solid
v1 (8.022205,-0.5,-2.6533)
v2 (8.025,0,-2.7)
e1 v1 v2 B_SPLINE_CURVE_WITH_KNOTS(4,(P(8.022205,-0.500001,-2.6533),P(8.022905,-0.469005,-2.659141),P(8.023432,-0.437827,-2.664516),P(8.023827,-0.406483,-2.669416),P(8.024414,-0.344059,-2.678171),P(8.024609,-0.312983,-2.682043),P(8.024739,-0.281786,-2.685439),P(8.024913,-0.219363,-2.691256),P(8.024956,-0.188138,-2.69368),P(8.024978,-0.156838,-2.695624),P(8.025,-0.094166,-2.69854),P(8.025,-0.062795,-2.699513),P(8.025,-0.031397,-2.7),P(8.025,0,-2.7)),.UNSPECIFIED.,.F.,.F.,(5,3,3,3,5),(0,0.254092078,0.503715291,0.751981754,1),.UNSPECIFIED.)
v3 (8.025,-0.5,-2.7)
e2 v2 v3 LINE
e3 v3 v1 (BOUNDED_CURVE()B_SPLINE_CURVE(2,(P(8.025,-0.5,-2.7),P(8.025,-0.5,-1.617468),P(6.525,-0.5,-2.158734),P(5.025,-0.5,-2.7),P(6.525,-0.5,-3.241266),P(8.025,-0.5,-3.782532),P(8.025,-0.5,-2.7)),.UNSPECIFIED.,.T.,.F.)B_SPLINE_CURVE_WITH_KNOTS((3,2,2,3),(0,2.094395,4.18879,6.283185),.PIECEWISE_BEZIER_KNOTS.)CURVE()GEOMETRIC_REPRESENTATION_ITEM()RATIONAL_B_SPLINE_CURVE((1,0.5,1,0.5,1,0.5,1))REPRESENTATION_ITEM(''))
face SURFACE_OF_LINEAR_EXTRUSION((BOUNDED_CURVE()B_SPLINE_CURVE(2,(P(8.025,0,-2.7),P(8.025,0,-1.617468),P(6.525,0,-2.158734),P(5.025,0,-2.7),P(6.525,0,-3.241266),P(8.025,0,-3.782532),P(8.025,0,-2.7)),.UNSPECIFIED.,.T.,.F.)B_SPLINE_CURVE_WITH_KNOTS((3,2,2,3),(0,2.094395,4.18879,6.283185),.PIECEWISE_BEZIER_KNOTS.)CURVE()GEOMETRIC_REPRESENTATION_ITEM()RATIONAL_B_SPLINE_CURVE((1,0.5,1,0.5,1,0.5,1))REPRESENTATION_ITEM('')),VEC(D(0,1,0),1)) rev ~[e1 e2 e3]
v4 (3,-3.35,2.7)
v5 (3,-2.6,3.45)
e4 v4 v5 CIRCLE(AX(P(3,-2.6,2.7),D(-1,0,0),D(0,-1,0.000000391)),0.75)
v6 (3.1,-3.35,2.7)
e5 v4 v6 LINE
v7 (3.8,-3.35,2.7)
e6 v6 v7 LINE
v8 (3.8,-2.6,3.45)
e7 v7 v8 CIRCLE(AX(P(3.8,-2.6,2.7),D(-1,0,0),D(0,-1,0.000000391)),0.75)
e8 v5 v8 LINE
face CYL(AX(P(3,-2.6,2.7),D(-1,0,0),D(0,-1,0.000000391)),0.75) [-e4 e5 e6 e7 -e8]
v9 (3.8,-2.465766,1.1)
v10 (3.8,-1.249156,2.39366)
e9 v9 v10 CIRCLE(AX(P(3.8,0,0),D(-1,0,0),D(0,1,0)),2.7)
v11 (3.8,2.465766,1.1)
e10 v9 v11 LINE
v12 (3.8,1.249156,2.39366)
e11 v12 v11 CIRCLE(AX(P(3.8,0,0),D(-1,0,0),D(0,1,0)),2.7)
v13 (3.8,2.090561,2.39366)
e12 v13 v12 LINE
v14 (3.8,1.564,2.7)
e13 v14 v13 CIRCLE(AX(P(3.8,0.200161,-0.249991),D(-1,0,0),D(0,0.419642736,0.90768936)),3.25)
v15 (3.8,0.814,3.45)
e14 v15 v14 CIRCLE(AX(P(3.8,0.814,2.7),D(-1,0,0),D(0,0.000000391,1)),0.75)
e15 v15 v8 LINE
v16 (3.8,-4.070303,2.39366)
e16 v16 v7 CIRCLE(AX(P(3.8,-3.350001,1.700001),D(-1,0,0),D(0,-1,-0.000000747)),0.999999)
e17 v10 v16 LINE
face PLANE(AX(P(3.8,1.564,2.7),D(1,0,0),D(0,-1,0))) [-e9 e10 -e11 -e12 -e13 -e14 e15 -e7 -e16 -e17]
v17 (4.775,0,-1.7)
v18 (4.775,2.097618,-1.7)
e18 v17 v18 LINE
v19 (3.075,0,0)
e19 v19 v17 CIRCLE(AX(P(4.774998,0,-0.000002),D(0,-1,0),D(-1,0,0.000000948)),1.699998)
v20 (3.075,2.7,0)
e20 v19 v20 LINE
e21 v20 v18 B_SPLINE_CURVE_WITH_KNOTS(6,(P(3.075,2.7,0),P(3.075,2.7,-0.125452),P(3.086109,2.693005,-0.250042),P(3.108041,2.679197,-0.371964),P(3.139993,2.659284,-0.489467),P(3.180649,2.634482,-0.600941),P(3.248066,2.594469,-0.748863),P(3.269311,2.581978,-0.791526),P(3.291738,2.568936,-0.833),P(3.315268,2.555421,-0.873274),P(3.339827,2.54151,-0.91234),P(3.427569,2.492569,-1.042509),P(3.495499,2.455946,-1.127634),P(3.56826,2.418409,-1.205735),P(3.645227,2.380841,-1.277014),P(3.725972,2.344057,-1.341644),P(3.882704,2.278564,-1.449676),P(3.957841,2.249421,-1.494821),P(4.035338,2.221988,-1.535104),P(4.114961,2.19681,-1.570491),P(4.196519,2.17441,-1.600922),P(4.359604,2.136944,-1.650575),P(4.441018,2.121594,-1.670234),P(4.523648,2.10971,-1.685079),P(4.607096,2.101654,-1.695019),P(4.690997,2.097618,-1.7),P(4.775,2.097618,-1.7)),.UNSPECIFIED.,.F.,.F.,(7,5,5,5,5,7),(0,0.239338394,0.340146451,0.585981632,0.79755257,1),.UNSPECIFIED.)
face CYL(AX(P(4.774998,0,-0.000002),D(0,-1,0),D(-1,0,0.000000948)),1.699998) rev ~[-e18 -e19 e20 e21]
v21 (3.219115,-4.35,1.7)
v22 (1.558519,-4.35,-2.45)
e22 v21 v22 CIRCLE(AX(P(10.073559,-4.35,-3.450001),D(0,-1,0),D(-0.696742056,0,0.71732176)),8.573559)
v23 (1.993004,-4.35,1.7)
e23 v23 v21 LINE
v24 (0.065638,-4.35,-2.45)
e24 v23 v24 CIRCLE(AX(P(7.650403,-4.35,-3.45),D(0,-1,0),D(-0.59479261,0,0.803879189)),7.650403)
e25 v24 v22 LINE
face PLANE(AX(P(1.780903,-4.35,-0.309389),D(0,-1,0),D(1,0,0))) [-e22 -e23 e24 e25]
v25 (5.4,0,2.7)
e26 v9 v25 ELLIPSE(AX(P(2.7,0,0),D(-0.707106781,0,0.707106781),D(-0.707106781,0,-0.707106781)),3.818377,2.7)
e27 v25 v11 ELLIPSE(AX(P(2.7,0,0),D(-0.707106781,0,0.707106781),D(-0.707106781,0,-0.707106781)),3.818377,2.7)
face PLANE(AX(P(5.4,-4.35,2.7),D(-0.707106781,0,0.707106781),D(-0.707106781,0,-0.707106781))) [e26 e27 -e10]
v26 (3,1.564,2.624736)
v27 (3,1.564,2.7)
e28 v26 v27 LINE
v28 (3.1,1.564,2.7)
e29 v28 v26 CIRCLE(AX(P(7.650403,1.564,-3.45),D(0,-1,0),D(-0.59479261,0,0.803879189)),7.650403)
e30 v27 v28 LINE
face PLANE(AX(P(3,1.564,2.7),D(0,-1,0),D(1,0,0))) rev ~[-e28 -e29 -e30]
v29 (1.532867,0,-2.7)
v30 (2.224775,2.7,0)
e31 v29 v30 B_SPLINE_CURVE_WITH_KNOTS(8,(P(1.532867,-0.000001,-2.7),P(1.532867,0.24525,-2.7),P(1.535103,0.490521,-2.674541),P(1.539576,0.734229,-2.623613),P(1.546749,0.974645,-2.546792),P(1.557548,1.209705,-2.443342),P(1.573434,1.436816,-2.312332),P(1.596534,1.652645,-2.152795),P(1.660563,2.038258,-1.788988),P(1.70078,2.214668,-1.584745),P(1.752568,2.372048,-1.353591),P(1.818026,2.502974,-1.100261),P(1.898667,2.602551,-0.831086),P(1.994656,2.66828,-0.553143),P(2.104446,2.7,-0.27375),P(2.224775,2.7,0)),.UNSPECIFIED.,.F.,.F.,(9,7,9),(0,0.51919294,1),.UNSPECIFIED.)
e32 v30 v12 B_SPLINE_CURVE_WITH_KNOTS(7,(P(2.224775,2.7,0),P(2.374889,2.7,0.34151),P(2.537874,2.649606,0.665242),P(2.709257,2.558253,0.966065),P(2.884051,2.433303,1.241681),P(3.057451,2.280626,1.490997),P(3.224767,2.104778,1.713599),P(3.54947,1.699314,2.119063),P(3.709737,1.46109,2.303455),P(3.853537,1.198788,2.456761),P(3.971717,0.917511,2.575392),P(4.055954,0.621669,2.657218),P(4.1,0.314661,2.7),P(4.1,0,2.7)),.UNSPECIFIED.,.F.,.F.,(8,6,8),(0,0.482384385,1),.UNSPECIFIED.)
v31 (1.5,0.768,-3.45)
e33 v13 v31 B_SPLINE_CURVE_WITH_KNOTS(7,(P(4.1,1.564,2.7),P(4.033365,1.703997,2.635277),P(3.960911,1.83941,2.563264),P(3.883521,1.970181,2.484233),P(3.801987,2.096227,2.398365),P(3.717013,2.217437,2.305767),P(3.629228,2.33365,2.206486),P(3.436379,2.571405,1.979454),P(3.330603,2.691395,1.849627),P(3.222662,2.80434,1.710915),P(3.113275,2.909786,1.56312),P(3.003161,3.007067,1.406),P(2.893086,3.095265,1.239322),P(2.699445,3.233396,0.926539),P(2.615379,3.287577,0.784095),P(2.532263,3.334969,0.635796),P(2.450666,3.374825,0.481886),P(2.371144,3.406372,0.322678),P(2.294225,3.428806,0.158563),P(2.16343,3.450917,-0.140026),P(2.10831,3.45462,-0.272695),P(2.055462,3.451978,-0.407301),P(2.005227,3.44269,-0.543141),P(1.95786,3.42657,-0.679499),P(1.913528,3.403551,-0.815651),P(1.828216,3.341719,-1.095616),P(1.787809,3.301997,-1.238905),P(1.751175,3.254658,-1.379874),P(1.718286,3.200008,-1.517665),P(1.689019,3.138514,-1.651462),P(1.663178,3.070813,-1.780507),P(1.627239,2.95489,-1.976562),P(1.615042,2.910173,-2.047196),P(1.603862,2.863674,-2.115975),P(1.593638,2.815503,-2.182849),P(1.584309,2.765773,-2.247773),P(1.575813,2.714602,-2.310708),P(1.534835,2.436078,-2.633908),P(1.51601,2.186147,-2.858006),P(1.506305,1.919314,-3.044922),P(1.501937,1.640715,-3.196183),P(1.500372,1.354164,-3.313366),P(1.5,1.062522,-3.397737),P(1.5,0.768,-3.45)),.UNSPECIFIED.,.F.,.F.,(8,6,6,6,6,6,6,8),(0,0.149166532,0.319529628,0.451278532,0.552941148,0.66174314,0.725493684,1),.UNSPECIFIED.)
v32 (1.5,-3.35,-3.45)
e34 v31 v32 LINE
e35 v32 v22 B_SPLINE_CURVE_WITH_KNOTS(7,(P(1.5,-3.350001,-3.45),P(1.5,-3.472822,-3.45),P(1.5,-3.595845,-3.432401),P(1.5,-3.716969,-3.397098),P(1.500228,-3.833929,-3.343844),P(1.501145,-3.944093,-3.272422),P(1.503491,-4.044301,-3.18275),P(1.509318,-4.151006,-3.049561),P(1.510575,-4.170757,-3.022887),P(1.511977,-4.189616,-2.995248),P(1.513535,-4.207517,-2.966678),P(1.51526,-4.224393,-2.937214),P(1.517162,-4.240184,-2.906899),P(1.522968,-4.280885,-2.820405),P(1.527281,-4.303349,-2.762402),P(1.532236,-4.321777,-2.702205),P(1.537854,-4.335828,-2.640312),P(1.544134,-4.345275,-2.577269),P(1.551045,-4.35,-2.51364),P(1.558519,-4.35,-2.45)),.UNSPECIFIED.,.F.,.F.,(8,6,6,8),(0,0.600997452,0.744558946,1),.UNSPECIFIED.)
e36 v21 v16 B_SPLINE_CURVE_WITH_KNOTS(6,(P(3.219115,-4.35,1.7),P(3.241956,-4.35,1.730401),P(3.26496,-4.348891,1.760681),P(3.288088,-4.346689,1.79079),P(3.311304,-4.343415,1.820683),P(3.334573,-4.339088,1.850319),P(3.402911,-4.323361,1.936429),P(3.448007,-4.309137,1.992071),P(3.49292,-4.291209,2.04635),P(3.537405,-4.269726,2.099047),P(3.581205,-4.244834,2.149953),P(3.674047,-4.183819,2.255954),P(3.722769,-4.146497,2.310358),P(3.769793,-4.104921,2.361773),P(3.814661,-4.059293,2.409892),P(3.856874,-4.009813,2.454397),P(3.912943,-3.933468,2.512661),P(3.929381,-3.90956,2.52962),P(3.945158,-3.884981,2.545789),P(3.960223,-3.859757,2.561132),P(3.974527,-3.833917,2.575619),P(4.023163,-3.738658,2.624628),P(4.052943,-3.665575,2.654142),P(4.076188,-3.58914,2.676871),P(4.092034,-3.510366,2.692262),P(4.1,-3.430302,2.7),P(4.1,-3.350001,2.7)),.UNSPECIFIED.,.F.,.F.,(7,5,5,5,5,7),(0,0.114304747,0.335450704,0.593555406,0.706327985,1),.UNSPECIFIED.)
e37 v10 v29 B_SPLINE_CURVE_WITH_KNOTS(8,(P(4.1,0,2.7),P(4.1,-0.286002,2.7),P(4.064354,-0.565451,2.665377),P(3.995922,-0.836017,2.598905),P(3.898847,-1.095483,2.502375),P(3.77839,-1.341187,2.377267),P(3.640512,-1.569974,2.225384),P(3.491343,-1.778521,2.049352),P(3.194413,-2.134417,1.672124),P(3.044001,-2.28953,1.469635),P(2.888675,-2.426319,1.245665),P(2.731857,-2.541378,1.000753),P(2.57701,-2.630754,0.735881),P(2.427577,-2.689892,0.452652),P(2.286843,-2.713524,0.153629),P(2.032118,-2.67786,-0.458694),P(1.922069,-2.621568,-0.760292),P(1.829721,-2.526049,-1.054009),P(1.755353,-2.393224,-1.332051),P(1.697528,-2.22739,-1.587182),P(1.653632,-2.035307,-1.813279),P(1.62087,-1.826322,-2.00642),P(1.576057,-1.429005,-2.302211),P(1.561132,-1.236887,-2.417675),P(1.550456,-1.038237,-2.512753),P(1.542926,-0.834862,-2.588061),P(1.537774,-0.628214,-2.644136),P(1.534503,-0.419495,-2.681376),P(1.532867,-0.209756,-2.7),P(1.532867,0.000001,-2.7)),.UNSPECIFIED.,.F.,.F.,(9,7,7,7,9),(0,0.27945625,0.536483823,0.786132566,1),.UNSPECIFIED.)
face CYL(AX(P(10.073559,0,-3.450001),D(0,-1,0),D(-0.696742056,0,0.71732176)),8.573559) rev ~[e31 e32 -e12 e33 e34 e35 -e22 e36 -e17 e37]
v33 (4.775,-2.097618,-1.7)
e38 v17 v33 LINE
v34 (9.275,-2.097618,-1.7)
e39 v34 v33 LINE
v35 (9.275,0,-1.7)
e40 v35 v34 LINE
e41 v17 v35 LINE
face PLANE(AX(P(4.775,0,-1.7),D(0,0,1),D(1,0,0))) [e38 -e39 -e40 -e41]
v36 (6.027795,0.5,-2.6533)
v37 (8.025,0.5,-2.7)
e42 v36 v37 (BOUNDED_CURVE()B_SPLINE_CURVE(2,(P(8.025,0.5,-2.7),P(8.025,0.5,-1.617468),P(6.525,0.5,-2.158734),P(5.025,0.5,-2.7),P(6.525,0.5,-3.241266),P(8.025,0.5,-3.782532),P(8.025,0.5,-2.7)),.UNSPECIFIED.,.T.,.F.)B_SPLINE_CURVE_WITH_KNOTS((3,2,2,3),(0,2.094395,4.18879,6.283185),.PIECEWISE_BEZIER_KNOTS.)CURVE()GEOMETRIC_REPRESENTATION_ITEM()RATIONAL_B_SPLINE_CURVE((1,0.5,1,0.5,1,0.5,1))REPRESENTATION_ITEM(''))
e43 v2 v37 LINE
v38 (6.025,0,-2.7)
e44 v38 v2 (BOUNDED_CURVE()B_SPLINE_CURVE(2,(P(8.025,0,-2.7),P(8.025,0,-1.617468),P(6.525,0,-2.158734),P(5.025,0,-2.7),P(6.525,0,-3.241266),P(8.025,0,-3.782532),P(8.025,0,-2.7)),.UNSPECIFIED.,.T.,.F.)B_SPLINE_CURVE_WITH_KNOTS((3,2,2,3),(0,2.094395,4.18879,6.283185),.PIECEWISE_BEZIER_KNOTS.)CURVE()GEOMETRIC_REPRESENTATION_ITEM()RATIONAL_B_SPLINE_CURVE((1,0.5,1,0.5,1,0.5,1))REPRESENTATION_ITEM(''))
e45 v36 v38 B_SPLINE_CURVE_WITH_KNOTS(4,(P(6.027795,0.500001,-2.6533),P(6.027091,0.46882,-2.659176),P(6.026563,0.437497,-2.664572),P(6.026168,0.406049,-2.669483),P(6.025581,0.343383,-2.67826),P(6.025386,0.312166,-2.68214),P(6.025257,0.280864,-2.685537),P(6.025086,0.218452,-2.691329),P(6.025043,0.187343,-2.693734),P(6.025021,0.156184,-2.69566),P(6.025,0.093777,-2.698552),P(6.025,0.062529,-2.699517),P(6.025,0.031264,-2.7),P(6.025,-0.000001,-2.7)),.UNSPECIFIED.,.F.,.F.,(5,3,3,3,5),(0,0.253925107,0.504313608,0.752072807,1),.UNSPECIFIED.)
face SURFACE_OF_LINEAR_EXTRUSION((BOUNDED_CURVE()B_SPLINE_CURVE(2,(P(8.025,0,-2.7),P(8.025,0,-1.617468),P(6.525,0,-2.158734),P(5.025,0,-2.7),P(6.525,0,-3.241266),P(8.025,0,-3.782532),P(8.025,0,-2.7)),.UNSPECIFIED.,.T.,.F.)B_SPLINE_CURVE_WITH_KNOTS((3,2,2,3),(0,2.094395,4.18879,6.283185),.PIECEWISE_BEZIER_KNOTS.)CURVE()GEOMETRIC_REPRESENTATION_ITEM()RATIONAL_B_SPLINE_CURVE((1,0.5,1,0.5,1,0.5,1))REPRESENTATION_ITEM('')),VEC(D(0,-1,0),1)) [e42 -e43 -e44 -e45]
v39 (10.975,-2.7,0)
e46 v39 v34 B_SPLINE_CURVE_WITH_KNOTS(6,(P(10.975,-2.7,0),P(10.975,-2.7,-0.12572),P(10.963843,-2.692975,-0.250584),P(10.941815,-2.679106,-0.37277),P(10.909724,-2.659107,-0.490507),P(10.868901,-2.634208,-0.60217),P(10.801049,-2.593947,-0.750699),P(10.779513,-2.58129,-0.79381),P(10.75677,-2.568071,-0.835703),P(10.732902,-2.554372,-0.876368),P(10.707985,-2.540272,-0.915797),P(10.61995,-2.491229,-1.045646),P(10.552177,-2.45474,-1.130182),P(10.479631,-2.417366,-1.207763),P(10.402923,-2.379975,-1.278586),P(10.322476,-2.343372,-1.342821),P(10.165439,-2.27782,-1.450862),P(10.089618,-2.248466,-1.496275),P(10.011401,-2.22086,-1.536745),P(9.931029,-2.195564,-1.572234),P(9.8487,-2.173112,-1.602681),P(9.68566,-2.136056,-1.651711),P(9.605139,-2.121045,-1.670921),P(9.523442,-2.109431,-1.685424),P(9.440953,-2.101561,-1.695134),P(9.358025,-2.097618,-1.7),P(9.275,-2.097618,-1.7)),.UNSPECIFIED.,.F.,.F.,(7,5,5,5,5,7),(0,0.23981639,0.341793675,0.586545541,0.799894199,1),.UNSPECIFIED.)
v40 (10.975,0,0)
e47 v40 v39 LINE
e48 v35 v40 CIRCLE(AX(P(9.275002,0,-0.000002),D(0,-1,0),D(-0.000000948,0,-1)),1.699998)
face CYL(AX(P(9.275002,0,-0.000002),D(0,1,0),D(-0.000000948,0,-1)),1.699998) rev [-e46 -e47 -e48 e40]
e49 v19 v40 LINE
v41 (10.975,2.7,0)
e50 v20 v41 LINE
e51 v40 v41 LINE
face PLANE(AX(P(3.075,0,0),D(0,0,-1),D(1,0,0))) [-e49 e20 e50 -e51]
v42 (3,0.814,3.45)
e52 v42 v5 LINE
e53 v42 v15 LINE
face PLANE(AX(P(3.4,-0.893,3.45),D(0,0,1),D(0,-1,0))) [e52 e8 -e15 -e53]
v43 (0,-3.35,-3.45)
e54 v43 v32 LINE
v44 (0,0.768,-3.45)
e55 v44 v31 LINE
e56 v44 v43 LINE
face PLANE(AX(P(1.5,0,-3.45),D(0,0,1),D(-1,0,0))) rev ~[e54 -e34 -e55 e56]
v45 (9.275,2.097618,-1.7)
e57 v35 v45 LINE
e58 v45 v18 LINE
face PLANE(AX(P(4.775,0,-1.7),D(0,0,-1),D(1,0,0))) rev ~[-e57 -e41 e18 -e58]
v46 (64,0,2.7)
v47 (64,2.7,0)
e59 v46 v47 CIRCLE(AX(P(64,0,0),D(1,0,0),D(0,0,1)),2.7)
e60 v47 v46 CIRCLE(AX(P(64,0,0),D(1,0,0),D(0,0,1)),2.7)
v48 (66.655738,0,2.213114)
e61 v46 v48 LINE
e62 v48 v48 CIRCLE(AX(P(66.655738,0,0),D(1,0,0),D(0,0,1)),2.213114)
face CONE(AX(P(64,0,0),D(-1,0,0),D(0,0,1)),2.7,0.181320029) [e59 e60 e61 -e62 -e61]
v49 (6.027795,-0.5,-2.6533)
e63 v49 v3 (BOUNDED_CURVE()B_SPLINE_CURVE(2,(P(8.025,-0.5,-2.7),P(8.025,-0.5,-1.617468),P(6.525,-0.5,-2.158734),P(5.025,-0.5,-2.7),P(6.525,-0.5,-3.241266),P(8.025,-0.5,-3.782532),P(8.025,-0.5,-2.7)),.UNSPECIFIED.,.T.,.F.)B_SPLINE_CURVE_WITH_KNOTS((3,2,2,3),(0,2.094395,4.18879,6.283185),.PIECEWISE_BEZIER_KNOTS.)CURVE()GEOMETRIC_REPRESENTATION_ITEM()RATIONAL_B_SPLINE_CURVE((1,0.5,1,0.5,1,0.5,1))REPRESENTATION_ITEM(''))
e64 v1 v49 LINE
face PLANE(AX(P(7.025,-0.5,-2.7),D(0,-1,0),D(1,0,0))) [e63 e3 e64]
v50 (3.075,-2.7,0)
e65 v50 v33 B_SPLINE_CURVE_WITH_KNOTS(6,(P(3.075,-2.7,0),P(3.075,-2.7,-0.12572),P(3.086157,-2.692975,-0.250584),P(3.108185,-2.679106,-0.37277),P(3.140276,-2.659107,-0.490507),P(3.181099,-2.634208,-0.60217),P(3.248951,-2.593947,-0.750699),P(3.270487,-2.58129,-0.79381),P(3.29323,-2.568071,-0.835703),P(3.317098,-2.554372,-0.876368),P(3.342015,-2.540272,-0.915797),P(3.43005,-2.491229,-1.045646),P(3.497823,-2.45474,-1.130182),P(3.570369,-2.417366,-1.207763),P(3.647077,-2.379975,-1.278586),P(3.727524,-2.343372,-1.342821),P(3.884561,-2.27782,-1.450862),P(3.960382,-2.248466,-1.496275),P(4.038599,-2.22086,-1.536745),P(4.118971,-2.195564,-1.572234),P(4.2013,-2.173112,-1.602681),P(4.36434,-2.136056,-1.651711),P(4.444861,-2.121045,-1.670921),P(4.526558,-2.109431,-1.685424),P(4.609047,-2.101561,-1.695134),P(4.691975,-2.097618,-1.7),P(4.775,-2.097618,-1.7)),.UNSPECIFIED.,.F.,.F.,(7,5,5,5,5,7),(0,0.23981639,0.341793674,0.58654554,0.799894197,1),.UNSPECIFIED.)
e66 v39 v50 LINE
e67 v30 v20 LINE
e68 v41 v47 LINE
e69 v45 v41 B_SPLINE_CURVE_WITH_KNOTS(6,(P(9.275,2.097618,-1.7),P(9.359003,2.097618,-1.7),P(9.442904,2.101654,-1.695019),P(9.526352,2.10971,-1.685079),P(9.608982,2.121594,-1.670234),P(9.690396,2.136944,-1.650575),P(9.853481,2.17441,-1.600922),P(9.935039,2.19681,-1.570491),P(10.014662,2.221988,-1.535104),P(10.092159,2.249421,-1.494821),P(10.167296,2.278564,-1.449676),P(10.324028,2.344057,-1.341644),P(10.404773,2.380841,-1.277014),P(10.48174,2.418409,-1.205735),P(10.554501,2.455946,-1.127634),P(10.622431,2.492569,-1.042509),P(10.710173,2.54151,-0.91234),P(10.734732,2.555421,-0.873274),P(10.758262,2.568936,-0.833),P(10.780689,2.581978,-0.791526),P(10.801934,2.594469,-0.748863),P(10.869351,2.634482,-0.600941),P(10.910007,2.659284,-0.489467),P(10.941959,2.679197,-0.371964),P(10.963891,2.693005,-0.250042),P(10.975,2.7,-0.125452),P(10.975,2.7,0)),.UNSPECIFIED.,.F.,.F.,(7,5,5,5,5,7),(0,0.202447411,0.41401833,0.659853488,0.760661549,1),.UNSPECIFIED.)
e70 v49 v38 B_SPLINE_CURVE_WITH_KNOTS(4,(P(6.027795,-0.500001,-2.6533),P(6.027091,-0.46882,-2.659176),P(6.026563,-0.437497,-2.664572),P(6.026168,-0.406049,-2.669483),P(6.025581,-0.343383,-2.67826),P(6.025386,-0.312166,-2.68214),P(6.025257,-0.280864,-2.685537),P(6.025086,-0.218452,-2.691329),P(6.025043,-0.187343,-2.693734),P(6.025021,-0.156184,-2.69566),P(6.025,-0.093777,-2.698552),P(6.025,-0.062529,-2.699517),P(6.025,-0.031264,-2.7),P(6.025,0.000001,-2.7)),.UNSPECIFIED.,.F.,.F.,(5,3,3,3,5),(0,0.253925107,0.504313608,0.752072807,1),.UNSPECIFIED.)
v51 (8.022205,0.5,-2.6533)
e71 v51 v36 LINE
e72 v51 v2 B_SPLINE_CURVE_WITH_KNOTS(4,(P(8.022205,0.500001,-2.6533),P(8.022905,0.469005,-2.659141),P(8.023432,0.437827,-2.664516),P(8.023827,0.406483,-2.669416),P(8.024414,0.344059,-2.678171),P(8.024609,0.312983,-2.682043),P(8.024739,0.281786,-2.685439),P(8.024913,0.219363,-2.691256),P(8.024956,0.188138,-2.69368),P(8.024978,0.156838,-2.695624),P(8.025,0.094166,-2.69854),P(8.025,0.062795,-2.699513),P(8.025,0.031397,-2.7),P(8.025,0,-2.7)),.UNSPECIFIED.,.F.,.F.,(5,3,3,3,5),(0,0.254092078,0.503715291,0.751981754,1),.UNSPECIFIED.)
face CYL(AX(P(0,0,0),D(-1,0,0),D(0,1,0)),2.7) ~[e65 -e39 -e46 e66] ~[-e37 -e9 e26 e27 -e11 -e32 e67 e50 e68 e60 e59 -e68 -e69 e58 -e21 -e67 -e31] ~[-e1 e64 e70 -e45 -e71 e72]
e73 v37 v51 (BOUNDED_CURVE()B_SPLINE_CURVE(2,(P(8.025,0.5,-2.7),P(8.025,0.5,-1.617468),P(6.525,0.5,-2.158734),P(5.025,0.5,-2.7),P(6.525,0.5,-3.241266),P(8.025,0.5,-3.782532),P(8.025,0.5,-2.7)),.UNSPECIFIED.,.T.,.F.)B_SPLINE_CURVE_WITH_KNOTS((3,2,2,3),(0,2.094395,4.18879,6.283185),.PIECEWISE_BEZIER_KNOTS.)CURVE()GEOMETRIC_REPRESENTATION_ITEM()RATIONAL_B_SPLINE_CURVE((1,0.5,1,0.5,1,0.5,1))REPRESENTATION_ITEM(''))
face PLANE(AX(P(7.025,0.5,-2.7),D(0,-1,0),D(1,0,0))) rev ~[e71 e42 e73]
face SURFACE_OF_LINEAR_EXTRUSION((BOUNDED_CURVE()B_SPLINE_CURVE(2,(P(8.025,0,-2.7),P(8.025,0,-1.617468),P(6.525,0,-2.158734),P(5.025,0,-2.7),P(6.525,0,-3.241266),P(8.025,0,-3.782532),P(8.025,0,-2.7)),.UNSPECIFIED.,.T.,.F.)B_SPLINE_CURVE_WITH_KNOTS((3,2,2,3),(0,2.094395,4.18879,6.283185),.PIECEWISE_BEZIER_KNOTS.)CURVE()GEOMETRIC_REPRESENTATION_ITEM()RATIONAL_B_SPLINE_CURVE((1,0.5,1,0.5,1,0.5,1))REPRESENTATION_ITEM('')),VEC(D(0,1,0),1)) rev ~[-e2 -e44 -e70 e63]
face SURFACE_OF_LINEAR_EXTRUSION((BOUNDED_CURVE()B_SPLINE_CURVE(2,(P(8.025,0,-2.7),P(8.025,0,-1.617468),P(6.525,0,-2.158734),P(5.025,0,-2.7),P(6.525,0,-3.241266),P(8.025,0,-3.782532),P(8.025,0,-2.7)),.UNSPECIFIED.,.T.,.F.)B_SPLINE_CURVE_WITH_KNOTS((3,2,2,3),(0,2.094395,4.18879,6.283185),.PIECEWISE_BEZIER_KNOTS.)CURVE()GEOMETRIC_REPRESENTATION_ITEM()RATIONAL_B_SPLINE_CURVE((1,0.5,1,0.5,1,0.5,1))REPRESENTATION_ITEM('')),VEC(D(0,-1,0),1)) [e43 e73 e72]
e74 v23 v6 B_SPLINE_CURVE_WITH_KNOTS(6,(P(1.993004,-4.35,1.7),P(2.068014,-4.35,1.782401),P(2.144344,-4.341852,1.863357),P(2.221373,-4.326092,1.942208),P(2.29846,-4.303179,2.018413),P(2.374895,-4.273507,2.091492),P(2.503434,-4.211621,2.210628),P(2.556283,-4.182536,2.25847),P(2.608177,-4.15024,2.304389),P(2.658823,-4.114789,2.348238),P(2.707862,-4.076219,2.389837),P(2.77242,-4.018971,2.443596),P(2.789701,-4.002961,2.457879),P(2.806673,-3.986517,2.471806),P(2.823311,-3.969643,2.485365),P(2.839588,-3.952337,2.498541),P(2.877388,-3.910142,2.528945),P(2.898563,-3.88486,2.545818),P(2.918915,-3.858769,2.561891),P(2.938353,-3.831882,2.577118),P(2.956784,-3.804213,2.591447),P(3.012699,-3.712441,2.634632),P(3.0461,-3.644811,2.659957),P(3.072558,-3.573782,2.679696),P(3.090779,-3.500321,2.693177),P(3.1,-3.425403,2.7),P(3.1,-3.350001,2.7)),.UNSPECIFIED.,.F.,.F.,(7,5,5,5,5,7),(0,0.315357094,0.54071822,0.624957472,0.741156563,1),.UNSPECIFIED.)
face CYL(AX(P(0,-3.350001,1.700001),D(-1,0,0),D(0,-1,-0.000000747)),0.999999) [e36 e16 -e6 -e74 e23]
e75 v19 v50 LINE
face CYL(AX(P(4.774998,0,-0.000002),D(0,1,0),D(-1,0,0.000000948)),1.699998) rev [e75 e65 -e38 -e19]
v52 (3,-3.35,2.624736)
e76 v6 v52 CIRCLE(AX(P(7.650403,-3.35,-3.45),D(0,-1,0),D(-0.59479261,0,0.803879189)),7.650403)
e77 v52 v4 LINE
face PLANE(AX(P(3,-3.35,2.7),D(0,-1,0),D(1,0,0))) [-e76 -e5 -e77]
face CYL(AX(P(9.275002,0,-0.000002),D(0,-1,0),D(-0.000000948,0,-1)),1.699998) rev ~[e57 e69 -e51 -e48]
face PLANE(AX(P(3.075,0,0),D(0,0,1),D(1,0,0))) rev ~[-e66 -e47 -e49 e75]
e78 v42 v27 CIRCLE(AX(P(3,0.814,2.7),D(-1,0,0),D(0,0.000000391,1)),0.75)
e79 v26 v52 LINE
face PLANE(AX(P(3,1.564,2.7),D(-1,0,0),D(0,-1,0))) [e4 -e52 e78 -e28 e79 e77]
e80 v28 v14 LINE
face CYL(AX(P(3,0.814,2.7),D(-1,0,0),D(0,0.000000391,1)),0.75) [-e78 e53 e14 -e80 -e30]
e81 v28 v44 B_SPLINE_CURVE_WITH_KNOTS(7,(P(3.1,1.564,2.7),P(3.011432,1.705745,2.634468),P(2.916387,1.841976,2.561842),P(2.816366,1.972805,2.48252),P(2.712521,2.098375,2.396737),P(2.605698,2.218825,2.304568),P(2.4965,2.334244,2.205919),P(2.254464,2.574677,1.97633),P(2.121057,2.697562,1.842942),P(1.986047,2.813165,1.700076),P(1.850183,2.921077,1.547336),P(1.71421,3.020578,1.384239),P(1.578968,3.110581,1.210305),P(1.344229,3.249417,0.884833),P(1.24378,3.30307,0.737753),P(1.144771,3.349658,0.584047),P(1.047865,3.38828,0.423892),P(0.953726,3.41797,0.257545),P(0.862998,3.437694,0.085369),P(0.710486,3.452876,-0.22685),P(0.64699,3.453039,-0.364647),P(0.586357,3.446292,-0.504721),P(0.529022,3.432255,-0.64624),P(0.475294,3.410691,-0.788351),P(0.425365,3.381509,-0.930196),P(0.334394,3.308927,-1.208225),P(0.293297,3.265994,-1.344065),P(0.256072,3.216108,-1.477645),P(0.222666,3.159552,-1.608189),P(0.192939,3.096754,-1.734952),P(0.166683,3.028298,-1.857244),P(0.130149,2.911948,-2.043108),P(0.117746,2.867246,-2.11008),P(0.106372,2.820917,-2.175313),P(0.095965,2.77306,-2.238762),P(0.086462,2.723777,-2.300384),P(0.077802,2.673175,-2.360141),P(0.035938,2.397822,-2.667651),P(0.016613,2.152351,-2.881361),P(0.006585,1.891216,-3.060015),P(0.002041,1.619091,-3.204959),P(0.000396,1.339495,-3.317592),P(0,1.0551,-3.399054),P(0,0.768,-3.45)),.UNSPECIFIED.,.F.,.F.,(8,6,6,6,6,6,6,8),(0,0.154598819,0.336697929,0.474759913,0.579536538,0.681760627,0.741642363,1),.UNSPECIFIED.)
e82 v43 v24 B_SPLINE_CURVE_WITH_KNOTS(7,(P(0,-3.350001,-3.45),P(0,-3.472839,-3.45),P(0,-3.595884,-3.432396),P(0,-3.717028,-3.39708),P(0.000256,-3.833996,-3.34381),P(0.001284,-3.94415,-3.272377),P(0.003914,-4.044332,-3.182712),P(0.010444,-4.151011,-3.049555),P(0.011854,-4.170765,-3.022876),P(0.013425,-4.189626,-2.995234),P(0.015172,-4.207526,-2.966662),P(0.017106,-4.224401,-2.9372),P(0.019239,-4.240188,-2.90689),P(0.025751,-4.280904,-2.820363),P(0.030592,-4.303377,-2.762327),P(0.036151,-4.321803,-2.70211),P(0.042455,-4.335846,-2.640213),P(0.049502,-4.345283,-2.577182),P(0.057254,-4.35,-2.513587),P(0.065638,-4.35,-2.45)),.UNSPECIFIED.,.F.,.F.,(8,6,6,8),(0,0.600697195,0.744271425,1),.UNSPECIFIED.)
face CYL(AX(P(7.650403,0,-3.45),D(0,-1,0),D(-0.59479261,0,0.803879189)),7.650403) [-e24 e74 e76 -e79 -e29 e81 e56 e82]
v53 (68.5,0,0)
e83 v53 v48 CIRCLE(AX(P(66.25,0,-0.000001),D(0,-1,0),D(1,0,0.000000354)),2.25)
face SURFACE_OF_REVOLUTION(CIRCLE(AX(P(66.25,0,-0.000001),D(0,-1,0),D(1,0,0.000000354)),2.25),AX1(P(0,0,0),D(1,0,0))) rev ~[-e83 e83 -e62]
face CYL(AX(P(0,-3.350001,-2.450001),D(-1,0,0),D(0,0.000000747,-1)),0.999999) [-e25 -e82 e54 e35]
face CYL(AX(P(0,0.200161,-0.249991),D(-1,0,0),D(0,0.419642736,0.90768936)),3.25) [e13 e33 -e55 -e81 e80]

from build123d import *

# Parameters (mm, degrees)
SKETCH_R             = 2.7
PAD_DEPTH            = 68.5
PAD001_DEPTH         = 4.35
PAD001_DEPTH_BACK    = 10
POCKET_DEPTH         = 10
POCKET001_DEPTH      = 10
POCKET002_DEPTH      = 200
SKETCH005_W          = 4.914
SKETCH005_H          = 0.8
PAD002_DEPTH         = 0.75
PAD002_DEPTH_BACK    = 0.25
POCKET003_DEPTH      = 5
PAD003_DEPTH         = 0.5
PAD003_DEPTH_BACK    = 0.5
POCKET004_DEPTH      = 10
POCKET004_DEPTH_BACK = -10


with BuildPart() as part:
    # Sketch → Pad (new body)
    with BuildSketch(Plane.YZ):
        Circle(SKETCH_R)
    extrude(amount=PAD_DEPTH)

    # Sketch001 → Pad001 (join, two sides)
    with BuildSketch(Plane.XZ) as pad001_sk:
        with BuildLine():
            ThreePointArc((3.1, 2.7), (0.818819, -0.006437), (0, -3.45))
            Line((1.5, -3.45), (0, -3.45))
            ThreePointArc((4.1, 2.7), (2.176706, -0.111494), (1.5, -3.45))
            Line((3.1, 2.7), (4.1, 2.7))
        make_face()
    extrude(amount=PAD001_DEPTH)
    extrude(pad001_sk.sketch, amount=-PAD001_DEPTH_BACK)

    # Sketch002 (on Face2 of Pad001) → Pocket (cut)
    with BuildSketch(Plane(origin=(0, 0, 0), x_dir=(0, 1, 0), z_dir=(-1, 0, 0))):
        with BuildLine():
            ThreePointArc((-4.35, -1.7), (-4.057107, -2.407107), (-3.35, -2.7))
            Line((-4.35, -2.7), (-3.35, -2.7))
            Line((-4.35, -1.7), (-4.35, -2.7))
        make_face()
        with BuildLine():
            ThreePointArc((-3.35, 3.45), (-4.057107, 3.157107), (-4.35, 2.45))
            Line((-4.35, 2.45), (-4.35, 3.45))
            Line((-4.35, 3.45), (-3.35, 3.45))
        make_face()
        with BuildLine():
            ThreePointArc((1.564, -2.7), (3.423276, 0.667161), (0.768, 3.45))
            Line((0.768, 3.45), (10, 3.45))
            Line((10, 3.45), (10, -2.7))
            Line((10, -2.7), (1.564, -2.7))
        make_face()
    extrude(amount=-POCKET_DEPTH, mode=Mode.SUBTRACT)

    # Sketch003 (on Face6 of Pad001) → Pocket001 (cut)
    with BuildSketch(Plane(origin=(0, -4.35, 0), x_dir=(0, 0, -1), z_dir=(0, -1, 0))):
        with BuildLine():
            Line((-2.7, 3.1), (-2.7, -1))
            Line((-2.7, -1), (3.45, -1))
            Line((3.45, -1), (3.45, 0))
            ThreePointArc((-2.7, 3.1), (0.006437, 0.818819), (3.45, 0))
        make_face()
    extrude(amount=-POCKET001_DEPTH, mode=Mode.SUBTRACT)

    # Sketch004 (on Face4 of Pocket001) → Pocket002 (cut)
    with BuildSketch(Plane(origin=(0, -4.35, 0), x_dir=(0, 0, -1), z_dir=(0, -1, 0))):
        Polygon((-2.7, 4.175736), (-2.7, 4.551472), (-2.7, 5.4), (-1.1, 3.8), (-1.948528, 3.8), (-2.7, 3.8), align=None)
    extrude(amount=-POCKET002_DEPTH, mode=Mode.SUBTRACT)

    # Sketch005 (on Face6 of Pocket002) → Pad002 (join, two sides)
    with BuildSketch(Plane(origin=(0, 0, 2.7), x_dir=(0, -1, 0), z_dir=(0, 0, 1))) as pad002_sk:
        with Locations((0.893, 3.4)):
            Rectangle(SKETCH005_W, SKETCH005_H)
    extrude(amount=PAD002_DEPTH)
    extrude(pad002_sk.sketch, amount=-PAD002_DEPTH_BACK)

    # Sketch006 (on Face8 of Pad002) → Pocket003 (cut)
    with BuildSketch(Plane(origin=(3, 0, 0), x_dir=(0, 1, 0), z_dir=(-1, 0, 0))):
        with BuildLine():
            ThreePointArc((-3.35, -2.7), (-3.13033, -3.23033), (-2.6, -3.45))
            Line((-3.35, -3.45), (-2.6, -3.45))
            Line((-3.35, -2.7), (-3.35, -3.45))
        make_face()
        with BuildLine():
            ThreePointArc((0.814, -3.45), (1.34433, -3.23033), (1.564, -2.7))
            Line((1.564, -3.45), (1.564, -2.7))
            Line((0.814, -3.45), (1.564, -3.45))
        make_face()
    extrude(amount=-POCKET003_DEPTH, mode=Mode.SUBTRACT)

    # Sketch007 → Pad003 (join, two sides)
    with BuildSketch(Plane.XZ) as pad003_sk:
        with BuildLine():
            add(Edge.make_bspline(
                [(8.025, -2.7), (8.025, -1.617468), (6.525, -2.158734), (5.025, -2.7), (6.525, -3.241266), (8.025, -3.782532), (8.025, -2.7)],
                knots=[0, 0, 0, 2.094395, 2.094395, 4.18879, 4.18879, 6.283185, 6.283185, 6.283185], degree=2, weights=[1, 0.5, 1, 0.5, 1, 0.5, 1]))
        make_face()
    extrude(amount=PAD003_DEPTH)
    extrude(pad003_sk.sketch, amount=-PAD003_DEPTH_BACK)

    # Sketch008 → Pocket004 (cut, two sides)
    with BuildSketch(Plane.XZ) as pocket004_sk:
        with BuildLine():
            Line((4.775, -1.7), (9.275, -1.7))
            ThreePointArc((9.275, -1.7), (10.477082, -1.202082), (10.975, 0))
            Line((3.075, 0), (10.975, 0))
            ThreePointArc((3.075, 0), (3.572918, -1.202082), (4.775, -1.7))
        make_face()
    extrude(amount=-POCKET004_DEPTH, mode=Mode.SUBTRACT)
    extrude(pocket004_sk.sketch, amount=-POCKET004_DEPTH_BACK, mode=Mode.SUBTRACT)

    # Sketch009 → Groove (revolve, cut)
    with BuildSketch(Plane.XZ):
        with BuildLine():
            Line((68.5, 2.7), (64, 2.7))
            Line((64, 2.7), (66.655738, 2.213114))
            ThreePointArc((68.5, 0), (67.978498, 1.440414), (66.655738, 2.213114))
            Line((69.5, 0), (68.5, 0))
            Line((69.5, 2.7), (69.5, 0))
            Line((68.5, 2.7), (69.5, 2.7))
        make_face()
    revolve(axis=Axis((0, 0, 0), (1, 0, 0)), mode=Mode.SUBTRACT)


solid = part.part
